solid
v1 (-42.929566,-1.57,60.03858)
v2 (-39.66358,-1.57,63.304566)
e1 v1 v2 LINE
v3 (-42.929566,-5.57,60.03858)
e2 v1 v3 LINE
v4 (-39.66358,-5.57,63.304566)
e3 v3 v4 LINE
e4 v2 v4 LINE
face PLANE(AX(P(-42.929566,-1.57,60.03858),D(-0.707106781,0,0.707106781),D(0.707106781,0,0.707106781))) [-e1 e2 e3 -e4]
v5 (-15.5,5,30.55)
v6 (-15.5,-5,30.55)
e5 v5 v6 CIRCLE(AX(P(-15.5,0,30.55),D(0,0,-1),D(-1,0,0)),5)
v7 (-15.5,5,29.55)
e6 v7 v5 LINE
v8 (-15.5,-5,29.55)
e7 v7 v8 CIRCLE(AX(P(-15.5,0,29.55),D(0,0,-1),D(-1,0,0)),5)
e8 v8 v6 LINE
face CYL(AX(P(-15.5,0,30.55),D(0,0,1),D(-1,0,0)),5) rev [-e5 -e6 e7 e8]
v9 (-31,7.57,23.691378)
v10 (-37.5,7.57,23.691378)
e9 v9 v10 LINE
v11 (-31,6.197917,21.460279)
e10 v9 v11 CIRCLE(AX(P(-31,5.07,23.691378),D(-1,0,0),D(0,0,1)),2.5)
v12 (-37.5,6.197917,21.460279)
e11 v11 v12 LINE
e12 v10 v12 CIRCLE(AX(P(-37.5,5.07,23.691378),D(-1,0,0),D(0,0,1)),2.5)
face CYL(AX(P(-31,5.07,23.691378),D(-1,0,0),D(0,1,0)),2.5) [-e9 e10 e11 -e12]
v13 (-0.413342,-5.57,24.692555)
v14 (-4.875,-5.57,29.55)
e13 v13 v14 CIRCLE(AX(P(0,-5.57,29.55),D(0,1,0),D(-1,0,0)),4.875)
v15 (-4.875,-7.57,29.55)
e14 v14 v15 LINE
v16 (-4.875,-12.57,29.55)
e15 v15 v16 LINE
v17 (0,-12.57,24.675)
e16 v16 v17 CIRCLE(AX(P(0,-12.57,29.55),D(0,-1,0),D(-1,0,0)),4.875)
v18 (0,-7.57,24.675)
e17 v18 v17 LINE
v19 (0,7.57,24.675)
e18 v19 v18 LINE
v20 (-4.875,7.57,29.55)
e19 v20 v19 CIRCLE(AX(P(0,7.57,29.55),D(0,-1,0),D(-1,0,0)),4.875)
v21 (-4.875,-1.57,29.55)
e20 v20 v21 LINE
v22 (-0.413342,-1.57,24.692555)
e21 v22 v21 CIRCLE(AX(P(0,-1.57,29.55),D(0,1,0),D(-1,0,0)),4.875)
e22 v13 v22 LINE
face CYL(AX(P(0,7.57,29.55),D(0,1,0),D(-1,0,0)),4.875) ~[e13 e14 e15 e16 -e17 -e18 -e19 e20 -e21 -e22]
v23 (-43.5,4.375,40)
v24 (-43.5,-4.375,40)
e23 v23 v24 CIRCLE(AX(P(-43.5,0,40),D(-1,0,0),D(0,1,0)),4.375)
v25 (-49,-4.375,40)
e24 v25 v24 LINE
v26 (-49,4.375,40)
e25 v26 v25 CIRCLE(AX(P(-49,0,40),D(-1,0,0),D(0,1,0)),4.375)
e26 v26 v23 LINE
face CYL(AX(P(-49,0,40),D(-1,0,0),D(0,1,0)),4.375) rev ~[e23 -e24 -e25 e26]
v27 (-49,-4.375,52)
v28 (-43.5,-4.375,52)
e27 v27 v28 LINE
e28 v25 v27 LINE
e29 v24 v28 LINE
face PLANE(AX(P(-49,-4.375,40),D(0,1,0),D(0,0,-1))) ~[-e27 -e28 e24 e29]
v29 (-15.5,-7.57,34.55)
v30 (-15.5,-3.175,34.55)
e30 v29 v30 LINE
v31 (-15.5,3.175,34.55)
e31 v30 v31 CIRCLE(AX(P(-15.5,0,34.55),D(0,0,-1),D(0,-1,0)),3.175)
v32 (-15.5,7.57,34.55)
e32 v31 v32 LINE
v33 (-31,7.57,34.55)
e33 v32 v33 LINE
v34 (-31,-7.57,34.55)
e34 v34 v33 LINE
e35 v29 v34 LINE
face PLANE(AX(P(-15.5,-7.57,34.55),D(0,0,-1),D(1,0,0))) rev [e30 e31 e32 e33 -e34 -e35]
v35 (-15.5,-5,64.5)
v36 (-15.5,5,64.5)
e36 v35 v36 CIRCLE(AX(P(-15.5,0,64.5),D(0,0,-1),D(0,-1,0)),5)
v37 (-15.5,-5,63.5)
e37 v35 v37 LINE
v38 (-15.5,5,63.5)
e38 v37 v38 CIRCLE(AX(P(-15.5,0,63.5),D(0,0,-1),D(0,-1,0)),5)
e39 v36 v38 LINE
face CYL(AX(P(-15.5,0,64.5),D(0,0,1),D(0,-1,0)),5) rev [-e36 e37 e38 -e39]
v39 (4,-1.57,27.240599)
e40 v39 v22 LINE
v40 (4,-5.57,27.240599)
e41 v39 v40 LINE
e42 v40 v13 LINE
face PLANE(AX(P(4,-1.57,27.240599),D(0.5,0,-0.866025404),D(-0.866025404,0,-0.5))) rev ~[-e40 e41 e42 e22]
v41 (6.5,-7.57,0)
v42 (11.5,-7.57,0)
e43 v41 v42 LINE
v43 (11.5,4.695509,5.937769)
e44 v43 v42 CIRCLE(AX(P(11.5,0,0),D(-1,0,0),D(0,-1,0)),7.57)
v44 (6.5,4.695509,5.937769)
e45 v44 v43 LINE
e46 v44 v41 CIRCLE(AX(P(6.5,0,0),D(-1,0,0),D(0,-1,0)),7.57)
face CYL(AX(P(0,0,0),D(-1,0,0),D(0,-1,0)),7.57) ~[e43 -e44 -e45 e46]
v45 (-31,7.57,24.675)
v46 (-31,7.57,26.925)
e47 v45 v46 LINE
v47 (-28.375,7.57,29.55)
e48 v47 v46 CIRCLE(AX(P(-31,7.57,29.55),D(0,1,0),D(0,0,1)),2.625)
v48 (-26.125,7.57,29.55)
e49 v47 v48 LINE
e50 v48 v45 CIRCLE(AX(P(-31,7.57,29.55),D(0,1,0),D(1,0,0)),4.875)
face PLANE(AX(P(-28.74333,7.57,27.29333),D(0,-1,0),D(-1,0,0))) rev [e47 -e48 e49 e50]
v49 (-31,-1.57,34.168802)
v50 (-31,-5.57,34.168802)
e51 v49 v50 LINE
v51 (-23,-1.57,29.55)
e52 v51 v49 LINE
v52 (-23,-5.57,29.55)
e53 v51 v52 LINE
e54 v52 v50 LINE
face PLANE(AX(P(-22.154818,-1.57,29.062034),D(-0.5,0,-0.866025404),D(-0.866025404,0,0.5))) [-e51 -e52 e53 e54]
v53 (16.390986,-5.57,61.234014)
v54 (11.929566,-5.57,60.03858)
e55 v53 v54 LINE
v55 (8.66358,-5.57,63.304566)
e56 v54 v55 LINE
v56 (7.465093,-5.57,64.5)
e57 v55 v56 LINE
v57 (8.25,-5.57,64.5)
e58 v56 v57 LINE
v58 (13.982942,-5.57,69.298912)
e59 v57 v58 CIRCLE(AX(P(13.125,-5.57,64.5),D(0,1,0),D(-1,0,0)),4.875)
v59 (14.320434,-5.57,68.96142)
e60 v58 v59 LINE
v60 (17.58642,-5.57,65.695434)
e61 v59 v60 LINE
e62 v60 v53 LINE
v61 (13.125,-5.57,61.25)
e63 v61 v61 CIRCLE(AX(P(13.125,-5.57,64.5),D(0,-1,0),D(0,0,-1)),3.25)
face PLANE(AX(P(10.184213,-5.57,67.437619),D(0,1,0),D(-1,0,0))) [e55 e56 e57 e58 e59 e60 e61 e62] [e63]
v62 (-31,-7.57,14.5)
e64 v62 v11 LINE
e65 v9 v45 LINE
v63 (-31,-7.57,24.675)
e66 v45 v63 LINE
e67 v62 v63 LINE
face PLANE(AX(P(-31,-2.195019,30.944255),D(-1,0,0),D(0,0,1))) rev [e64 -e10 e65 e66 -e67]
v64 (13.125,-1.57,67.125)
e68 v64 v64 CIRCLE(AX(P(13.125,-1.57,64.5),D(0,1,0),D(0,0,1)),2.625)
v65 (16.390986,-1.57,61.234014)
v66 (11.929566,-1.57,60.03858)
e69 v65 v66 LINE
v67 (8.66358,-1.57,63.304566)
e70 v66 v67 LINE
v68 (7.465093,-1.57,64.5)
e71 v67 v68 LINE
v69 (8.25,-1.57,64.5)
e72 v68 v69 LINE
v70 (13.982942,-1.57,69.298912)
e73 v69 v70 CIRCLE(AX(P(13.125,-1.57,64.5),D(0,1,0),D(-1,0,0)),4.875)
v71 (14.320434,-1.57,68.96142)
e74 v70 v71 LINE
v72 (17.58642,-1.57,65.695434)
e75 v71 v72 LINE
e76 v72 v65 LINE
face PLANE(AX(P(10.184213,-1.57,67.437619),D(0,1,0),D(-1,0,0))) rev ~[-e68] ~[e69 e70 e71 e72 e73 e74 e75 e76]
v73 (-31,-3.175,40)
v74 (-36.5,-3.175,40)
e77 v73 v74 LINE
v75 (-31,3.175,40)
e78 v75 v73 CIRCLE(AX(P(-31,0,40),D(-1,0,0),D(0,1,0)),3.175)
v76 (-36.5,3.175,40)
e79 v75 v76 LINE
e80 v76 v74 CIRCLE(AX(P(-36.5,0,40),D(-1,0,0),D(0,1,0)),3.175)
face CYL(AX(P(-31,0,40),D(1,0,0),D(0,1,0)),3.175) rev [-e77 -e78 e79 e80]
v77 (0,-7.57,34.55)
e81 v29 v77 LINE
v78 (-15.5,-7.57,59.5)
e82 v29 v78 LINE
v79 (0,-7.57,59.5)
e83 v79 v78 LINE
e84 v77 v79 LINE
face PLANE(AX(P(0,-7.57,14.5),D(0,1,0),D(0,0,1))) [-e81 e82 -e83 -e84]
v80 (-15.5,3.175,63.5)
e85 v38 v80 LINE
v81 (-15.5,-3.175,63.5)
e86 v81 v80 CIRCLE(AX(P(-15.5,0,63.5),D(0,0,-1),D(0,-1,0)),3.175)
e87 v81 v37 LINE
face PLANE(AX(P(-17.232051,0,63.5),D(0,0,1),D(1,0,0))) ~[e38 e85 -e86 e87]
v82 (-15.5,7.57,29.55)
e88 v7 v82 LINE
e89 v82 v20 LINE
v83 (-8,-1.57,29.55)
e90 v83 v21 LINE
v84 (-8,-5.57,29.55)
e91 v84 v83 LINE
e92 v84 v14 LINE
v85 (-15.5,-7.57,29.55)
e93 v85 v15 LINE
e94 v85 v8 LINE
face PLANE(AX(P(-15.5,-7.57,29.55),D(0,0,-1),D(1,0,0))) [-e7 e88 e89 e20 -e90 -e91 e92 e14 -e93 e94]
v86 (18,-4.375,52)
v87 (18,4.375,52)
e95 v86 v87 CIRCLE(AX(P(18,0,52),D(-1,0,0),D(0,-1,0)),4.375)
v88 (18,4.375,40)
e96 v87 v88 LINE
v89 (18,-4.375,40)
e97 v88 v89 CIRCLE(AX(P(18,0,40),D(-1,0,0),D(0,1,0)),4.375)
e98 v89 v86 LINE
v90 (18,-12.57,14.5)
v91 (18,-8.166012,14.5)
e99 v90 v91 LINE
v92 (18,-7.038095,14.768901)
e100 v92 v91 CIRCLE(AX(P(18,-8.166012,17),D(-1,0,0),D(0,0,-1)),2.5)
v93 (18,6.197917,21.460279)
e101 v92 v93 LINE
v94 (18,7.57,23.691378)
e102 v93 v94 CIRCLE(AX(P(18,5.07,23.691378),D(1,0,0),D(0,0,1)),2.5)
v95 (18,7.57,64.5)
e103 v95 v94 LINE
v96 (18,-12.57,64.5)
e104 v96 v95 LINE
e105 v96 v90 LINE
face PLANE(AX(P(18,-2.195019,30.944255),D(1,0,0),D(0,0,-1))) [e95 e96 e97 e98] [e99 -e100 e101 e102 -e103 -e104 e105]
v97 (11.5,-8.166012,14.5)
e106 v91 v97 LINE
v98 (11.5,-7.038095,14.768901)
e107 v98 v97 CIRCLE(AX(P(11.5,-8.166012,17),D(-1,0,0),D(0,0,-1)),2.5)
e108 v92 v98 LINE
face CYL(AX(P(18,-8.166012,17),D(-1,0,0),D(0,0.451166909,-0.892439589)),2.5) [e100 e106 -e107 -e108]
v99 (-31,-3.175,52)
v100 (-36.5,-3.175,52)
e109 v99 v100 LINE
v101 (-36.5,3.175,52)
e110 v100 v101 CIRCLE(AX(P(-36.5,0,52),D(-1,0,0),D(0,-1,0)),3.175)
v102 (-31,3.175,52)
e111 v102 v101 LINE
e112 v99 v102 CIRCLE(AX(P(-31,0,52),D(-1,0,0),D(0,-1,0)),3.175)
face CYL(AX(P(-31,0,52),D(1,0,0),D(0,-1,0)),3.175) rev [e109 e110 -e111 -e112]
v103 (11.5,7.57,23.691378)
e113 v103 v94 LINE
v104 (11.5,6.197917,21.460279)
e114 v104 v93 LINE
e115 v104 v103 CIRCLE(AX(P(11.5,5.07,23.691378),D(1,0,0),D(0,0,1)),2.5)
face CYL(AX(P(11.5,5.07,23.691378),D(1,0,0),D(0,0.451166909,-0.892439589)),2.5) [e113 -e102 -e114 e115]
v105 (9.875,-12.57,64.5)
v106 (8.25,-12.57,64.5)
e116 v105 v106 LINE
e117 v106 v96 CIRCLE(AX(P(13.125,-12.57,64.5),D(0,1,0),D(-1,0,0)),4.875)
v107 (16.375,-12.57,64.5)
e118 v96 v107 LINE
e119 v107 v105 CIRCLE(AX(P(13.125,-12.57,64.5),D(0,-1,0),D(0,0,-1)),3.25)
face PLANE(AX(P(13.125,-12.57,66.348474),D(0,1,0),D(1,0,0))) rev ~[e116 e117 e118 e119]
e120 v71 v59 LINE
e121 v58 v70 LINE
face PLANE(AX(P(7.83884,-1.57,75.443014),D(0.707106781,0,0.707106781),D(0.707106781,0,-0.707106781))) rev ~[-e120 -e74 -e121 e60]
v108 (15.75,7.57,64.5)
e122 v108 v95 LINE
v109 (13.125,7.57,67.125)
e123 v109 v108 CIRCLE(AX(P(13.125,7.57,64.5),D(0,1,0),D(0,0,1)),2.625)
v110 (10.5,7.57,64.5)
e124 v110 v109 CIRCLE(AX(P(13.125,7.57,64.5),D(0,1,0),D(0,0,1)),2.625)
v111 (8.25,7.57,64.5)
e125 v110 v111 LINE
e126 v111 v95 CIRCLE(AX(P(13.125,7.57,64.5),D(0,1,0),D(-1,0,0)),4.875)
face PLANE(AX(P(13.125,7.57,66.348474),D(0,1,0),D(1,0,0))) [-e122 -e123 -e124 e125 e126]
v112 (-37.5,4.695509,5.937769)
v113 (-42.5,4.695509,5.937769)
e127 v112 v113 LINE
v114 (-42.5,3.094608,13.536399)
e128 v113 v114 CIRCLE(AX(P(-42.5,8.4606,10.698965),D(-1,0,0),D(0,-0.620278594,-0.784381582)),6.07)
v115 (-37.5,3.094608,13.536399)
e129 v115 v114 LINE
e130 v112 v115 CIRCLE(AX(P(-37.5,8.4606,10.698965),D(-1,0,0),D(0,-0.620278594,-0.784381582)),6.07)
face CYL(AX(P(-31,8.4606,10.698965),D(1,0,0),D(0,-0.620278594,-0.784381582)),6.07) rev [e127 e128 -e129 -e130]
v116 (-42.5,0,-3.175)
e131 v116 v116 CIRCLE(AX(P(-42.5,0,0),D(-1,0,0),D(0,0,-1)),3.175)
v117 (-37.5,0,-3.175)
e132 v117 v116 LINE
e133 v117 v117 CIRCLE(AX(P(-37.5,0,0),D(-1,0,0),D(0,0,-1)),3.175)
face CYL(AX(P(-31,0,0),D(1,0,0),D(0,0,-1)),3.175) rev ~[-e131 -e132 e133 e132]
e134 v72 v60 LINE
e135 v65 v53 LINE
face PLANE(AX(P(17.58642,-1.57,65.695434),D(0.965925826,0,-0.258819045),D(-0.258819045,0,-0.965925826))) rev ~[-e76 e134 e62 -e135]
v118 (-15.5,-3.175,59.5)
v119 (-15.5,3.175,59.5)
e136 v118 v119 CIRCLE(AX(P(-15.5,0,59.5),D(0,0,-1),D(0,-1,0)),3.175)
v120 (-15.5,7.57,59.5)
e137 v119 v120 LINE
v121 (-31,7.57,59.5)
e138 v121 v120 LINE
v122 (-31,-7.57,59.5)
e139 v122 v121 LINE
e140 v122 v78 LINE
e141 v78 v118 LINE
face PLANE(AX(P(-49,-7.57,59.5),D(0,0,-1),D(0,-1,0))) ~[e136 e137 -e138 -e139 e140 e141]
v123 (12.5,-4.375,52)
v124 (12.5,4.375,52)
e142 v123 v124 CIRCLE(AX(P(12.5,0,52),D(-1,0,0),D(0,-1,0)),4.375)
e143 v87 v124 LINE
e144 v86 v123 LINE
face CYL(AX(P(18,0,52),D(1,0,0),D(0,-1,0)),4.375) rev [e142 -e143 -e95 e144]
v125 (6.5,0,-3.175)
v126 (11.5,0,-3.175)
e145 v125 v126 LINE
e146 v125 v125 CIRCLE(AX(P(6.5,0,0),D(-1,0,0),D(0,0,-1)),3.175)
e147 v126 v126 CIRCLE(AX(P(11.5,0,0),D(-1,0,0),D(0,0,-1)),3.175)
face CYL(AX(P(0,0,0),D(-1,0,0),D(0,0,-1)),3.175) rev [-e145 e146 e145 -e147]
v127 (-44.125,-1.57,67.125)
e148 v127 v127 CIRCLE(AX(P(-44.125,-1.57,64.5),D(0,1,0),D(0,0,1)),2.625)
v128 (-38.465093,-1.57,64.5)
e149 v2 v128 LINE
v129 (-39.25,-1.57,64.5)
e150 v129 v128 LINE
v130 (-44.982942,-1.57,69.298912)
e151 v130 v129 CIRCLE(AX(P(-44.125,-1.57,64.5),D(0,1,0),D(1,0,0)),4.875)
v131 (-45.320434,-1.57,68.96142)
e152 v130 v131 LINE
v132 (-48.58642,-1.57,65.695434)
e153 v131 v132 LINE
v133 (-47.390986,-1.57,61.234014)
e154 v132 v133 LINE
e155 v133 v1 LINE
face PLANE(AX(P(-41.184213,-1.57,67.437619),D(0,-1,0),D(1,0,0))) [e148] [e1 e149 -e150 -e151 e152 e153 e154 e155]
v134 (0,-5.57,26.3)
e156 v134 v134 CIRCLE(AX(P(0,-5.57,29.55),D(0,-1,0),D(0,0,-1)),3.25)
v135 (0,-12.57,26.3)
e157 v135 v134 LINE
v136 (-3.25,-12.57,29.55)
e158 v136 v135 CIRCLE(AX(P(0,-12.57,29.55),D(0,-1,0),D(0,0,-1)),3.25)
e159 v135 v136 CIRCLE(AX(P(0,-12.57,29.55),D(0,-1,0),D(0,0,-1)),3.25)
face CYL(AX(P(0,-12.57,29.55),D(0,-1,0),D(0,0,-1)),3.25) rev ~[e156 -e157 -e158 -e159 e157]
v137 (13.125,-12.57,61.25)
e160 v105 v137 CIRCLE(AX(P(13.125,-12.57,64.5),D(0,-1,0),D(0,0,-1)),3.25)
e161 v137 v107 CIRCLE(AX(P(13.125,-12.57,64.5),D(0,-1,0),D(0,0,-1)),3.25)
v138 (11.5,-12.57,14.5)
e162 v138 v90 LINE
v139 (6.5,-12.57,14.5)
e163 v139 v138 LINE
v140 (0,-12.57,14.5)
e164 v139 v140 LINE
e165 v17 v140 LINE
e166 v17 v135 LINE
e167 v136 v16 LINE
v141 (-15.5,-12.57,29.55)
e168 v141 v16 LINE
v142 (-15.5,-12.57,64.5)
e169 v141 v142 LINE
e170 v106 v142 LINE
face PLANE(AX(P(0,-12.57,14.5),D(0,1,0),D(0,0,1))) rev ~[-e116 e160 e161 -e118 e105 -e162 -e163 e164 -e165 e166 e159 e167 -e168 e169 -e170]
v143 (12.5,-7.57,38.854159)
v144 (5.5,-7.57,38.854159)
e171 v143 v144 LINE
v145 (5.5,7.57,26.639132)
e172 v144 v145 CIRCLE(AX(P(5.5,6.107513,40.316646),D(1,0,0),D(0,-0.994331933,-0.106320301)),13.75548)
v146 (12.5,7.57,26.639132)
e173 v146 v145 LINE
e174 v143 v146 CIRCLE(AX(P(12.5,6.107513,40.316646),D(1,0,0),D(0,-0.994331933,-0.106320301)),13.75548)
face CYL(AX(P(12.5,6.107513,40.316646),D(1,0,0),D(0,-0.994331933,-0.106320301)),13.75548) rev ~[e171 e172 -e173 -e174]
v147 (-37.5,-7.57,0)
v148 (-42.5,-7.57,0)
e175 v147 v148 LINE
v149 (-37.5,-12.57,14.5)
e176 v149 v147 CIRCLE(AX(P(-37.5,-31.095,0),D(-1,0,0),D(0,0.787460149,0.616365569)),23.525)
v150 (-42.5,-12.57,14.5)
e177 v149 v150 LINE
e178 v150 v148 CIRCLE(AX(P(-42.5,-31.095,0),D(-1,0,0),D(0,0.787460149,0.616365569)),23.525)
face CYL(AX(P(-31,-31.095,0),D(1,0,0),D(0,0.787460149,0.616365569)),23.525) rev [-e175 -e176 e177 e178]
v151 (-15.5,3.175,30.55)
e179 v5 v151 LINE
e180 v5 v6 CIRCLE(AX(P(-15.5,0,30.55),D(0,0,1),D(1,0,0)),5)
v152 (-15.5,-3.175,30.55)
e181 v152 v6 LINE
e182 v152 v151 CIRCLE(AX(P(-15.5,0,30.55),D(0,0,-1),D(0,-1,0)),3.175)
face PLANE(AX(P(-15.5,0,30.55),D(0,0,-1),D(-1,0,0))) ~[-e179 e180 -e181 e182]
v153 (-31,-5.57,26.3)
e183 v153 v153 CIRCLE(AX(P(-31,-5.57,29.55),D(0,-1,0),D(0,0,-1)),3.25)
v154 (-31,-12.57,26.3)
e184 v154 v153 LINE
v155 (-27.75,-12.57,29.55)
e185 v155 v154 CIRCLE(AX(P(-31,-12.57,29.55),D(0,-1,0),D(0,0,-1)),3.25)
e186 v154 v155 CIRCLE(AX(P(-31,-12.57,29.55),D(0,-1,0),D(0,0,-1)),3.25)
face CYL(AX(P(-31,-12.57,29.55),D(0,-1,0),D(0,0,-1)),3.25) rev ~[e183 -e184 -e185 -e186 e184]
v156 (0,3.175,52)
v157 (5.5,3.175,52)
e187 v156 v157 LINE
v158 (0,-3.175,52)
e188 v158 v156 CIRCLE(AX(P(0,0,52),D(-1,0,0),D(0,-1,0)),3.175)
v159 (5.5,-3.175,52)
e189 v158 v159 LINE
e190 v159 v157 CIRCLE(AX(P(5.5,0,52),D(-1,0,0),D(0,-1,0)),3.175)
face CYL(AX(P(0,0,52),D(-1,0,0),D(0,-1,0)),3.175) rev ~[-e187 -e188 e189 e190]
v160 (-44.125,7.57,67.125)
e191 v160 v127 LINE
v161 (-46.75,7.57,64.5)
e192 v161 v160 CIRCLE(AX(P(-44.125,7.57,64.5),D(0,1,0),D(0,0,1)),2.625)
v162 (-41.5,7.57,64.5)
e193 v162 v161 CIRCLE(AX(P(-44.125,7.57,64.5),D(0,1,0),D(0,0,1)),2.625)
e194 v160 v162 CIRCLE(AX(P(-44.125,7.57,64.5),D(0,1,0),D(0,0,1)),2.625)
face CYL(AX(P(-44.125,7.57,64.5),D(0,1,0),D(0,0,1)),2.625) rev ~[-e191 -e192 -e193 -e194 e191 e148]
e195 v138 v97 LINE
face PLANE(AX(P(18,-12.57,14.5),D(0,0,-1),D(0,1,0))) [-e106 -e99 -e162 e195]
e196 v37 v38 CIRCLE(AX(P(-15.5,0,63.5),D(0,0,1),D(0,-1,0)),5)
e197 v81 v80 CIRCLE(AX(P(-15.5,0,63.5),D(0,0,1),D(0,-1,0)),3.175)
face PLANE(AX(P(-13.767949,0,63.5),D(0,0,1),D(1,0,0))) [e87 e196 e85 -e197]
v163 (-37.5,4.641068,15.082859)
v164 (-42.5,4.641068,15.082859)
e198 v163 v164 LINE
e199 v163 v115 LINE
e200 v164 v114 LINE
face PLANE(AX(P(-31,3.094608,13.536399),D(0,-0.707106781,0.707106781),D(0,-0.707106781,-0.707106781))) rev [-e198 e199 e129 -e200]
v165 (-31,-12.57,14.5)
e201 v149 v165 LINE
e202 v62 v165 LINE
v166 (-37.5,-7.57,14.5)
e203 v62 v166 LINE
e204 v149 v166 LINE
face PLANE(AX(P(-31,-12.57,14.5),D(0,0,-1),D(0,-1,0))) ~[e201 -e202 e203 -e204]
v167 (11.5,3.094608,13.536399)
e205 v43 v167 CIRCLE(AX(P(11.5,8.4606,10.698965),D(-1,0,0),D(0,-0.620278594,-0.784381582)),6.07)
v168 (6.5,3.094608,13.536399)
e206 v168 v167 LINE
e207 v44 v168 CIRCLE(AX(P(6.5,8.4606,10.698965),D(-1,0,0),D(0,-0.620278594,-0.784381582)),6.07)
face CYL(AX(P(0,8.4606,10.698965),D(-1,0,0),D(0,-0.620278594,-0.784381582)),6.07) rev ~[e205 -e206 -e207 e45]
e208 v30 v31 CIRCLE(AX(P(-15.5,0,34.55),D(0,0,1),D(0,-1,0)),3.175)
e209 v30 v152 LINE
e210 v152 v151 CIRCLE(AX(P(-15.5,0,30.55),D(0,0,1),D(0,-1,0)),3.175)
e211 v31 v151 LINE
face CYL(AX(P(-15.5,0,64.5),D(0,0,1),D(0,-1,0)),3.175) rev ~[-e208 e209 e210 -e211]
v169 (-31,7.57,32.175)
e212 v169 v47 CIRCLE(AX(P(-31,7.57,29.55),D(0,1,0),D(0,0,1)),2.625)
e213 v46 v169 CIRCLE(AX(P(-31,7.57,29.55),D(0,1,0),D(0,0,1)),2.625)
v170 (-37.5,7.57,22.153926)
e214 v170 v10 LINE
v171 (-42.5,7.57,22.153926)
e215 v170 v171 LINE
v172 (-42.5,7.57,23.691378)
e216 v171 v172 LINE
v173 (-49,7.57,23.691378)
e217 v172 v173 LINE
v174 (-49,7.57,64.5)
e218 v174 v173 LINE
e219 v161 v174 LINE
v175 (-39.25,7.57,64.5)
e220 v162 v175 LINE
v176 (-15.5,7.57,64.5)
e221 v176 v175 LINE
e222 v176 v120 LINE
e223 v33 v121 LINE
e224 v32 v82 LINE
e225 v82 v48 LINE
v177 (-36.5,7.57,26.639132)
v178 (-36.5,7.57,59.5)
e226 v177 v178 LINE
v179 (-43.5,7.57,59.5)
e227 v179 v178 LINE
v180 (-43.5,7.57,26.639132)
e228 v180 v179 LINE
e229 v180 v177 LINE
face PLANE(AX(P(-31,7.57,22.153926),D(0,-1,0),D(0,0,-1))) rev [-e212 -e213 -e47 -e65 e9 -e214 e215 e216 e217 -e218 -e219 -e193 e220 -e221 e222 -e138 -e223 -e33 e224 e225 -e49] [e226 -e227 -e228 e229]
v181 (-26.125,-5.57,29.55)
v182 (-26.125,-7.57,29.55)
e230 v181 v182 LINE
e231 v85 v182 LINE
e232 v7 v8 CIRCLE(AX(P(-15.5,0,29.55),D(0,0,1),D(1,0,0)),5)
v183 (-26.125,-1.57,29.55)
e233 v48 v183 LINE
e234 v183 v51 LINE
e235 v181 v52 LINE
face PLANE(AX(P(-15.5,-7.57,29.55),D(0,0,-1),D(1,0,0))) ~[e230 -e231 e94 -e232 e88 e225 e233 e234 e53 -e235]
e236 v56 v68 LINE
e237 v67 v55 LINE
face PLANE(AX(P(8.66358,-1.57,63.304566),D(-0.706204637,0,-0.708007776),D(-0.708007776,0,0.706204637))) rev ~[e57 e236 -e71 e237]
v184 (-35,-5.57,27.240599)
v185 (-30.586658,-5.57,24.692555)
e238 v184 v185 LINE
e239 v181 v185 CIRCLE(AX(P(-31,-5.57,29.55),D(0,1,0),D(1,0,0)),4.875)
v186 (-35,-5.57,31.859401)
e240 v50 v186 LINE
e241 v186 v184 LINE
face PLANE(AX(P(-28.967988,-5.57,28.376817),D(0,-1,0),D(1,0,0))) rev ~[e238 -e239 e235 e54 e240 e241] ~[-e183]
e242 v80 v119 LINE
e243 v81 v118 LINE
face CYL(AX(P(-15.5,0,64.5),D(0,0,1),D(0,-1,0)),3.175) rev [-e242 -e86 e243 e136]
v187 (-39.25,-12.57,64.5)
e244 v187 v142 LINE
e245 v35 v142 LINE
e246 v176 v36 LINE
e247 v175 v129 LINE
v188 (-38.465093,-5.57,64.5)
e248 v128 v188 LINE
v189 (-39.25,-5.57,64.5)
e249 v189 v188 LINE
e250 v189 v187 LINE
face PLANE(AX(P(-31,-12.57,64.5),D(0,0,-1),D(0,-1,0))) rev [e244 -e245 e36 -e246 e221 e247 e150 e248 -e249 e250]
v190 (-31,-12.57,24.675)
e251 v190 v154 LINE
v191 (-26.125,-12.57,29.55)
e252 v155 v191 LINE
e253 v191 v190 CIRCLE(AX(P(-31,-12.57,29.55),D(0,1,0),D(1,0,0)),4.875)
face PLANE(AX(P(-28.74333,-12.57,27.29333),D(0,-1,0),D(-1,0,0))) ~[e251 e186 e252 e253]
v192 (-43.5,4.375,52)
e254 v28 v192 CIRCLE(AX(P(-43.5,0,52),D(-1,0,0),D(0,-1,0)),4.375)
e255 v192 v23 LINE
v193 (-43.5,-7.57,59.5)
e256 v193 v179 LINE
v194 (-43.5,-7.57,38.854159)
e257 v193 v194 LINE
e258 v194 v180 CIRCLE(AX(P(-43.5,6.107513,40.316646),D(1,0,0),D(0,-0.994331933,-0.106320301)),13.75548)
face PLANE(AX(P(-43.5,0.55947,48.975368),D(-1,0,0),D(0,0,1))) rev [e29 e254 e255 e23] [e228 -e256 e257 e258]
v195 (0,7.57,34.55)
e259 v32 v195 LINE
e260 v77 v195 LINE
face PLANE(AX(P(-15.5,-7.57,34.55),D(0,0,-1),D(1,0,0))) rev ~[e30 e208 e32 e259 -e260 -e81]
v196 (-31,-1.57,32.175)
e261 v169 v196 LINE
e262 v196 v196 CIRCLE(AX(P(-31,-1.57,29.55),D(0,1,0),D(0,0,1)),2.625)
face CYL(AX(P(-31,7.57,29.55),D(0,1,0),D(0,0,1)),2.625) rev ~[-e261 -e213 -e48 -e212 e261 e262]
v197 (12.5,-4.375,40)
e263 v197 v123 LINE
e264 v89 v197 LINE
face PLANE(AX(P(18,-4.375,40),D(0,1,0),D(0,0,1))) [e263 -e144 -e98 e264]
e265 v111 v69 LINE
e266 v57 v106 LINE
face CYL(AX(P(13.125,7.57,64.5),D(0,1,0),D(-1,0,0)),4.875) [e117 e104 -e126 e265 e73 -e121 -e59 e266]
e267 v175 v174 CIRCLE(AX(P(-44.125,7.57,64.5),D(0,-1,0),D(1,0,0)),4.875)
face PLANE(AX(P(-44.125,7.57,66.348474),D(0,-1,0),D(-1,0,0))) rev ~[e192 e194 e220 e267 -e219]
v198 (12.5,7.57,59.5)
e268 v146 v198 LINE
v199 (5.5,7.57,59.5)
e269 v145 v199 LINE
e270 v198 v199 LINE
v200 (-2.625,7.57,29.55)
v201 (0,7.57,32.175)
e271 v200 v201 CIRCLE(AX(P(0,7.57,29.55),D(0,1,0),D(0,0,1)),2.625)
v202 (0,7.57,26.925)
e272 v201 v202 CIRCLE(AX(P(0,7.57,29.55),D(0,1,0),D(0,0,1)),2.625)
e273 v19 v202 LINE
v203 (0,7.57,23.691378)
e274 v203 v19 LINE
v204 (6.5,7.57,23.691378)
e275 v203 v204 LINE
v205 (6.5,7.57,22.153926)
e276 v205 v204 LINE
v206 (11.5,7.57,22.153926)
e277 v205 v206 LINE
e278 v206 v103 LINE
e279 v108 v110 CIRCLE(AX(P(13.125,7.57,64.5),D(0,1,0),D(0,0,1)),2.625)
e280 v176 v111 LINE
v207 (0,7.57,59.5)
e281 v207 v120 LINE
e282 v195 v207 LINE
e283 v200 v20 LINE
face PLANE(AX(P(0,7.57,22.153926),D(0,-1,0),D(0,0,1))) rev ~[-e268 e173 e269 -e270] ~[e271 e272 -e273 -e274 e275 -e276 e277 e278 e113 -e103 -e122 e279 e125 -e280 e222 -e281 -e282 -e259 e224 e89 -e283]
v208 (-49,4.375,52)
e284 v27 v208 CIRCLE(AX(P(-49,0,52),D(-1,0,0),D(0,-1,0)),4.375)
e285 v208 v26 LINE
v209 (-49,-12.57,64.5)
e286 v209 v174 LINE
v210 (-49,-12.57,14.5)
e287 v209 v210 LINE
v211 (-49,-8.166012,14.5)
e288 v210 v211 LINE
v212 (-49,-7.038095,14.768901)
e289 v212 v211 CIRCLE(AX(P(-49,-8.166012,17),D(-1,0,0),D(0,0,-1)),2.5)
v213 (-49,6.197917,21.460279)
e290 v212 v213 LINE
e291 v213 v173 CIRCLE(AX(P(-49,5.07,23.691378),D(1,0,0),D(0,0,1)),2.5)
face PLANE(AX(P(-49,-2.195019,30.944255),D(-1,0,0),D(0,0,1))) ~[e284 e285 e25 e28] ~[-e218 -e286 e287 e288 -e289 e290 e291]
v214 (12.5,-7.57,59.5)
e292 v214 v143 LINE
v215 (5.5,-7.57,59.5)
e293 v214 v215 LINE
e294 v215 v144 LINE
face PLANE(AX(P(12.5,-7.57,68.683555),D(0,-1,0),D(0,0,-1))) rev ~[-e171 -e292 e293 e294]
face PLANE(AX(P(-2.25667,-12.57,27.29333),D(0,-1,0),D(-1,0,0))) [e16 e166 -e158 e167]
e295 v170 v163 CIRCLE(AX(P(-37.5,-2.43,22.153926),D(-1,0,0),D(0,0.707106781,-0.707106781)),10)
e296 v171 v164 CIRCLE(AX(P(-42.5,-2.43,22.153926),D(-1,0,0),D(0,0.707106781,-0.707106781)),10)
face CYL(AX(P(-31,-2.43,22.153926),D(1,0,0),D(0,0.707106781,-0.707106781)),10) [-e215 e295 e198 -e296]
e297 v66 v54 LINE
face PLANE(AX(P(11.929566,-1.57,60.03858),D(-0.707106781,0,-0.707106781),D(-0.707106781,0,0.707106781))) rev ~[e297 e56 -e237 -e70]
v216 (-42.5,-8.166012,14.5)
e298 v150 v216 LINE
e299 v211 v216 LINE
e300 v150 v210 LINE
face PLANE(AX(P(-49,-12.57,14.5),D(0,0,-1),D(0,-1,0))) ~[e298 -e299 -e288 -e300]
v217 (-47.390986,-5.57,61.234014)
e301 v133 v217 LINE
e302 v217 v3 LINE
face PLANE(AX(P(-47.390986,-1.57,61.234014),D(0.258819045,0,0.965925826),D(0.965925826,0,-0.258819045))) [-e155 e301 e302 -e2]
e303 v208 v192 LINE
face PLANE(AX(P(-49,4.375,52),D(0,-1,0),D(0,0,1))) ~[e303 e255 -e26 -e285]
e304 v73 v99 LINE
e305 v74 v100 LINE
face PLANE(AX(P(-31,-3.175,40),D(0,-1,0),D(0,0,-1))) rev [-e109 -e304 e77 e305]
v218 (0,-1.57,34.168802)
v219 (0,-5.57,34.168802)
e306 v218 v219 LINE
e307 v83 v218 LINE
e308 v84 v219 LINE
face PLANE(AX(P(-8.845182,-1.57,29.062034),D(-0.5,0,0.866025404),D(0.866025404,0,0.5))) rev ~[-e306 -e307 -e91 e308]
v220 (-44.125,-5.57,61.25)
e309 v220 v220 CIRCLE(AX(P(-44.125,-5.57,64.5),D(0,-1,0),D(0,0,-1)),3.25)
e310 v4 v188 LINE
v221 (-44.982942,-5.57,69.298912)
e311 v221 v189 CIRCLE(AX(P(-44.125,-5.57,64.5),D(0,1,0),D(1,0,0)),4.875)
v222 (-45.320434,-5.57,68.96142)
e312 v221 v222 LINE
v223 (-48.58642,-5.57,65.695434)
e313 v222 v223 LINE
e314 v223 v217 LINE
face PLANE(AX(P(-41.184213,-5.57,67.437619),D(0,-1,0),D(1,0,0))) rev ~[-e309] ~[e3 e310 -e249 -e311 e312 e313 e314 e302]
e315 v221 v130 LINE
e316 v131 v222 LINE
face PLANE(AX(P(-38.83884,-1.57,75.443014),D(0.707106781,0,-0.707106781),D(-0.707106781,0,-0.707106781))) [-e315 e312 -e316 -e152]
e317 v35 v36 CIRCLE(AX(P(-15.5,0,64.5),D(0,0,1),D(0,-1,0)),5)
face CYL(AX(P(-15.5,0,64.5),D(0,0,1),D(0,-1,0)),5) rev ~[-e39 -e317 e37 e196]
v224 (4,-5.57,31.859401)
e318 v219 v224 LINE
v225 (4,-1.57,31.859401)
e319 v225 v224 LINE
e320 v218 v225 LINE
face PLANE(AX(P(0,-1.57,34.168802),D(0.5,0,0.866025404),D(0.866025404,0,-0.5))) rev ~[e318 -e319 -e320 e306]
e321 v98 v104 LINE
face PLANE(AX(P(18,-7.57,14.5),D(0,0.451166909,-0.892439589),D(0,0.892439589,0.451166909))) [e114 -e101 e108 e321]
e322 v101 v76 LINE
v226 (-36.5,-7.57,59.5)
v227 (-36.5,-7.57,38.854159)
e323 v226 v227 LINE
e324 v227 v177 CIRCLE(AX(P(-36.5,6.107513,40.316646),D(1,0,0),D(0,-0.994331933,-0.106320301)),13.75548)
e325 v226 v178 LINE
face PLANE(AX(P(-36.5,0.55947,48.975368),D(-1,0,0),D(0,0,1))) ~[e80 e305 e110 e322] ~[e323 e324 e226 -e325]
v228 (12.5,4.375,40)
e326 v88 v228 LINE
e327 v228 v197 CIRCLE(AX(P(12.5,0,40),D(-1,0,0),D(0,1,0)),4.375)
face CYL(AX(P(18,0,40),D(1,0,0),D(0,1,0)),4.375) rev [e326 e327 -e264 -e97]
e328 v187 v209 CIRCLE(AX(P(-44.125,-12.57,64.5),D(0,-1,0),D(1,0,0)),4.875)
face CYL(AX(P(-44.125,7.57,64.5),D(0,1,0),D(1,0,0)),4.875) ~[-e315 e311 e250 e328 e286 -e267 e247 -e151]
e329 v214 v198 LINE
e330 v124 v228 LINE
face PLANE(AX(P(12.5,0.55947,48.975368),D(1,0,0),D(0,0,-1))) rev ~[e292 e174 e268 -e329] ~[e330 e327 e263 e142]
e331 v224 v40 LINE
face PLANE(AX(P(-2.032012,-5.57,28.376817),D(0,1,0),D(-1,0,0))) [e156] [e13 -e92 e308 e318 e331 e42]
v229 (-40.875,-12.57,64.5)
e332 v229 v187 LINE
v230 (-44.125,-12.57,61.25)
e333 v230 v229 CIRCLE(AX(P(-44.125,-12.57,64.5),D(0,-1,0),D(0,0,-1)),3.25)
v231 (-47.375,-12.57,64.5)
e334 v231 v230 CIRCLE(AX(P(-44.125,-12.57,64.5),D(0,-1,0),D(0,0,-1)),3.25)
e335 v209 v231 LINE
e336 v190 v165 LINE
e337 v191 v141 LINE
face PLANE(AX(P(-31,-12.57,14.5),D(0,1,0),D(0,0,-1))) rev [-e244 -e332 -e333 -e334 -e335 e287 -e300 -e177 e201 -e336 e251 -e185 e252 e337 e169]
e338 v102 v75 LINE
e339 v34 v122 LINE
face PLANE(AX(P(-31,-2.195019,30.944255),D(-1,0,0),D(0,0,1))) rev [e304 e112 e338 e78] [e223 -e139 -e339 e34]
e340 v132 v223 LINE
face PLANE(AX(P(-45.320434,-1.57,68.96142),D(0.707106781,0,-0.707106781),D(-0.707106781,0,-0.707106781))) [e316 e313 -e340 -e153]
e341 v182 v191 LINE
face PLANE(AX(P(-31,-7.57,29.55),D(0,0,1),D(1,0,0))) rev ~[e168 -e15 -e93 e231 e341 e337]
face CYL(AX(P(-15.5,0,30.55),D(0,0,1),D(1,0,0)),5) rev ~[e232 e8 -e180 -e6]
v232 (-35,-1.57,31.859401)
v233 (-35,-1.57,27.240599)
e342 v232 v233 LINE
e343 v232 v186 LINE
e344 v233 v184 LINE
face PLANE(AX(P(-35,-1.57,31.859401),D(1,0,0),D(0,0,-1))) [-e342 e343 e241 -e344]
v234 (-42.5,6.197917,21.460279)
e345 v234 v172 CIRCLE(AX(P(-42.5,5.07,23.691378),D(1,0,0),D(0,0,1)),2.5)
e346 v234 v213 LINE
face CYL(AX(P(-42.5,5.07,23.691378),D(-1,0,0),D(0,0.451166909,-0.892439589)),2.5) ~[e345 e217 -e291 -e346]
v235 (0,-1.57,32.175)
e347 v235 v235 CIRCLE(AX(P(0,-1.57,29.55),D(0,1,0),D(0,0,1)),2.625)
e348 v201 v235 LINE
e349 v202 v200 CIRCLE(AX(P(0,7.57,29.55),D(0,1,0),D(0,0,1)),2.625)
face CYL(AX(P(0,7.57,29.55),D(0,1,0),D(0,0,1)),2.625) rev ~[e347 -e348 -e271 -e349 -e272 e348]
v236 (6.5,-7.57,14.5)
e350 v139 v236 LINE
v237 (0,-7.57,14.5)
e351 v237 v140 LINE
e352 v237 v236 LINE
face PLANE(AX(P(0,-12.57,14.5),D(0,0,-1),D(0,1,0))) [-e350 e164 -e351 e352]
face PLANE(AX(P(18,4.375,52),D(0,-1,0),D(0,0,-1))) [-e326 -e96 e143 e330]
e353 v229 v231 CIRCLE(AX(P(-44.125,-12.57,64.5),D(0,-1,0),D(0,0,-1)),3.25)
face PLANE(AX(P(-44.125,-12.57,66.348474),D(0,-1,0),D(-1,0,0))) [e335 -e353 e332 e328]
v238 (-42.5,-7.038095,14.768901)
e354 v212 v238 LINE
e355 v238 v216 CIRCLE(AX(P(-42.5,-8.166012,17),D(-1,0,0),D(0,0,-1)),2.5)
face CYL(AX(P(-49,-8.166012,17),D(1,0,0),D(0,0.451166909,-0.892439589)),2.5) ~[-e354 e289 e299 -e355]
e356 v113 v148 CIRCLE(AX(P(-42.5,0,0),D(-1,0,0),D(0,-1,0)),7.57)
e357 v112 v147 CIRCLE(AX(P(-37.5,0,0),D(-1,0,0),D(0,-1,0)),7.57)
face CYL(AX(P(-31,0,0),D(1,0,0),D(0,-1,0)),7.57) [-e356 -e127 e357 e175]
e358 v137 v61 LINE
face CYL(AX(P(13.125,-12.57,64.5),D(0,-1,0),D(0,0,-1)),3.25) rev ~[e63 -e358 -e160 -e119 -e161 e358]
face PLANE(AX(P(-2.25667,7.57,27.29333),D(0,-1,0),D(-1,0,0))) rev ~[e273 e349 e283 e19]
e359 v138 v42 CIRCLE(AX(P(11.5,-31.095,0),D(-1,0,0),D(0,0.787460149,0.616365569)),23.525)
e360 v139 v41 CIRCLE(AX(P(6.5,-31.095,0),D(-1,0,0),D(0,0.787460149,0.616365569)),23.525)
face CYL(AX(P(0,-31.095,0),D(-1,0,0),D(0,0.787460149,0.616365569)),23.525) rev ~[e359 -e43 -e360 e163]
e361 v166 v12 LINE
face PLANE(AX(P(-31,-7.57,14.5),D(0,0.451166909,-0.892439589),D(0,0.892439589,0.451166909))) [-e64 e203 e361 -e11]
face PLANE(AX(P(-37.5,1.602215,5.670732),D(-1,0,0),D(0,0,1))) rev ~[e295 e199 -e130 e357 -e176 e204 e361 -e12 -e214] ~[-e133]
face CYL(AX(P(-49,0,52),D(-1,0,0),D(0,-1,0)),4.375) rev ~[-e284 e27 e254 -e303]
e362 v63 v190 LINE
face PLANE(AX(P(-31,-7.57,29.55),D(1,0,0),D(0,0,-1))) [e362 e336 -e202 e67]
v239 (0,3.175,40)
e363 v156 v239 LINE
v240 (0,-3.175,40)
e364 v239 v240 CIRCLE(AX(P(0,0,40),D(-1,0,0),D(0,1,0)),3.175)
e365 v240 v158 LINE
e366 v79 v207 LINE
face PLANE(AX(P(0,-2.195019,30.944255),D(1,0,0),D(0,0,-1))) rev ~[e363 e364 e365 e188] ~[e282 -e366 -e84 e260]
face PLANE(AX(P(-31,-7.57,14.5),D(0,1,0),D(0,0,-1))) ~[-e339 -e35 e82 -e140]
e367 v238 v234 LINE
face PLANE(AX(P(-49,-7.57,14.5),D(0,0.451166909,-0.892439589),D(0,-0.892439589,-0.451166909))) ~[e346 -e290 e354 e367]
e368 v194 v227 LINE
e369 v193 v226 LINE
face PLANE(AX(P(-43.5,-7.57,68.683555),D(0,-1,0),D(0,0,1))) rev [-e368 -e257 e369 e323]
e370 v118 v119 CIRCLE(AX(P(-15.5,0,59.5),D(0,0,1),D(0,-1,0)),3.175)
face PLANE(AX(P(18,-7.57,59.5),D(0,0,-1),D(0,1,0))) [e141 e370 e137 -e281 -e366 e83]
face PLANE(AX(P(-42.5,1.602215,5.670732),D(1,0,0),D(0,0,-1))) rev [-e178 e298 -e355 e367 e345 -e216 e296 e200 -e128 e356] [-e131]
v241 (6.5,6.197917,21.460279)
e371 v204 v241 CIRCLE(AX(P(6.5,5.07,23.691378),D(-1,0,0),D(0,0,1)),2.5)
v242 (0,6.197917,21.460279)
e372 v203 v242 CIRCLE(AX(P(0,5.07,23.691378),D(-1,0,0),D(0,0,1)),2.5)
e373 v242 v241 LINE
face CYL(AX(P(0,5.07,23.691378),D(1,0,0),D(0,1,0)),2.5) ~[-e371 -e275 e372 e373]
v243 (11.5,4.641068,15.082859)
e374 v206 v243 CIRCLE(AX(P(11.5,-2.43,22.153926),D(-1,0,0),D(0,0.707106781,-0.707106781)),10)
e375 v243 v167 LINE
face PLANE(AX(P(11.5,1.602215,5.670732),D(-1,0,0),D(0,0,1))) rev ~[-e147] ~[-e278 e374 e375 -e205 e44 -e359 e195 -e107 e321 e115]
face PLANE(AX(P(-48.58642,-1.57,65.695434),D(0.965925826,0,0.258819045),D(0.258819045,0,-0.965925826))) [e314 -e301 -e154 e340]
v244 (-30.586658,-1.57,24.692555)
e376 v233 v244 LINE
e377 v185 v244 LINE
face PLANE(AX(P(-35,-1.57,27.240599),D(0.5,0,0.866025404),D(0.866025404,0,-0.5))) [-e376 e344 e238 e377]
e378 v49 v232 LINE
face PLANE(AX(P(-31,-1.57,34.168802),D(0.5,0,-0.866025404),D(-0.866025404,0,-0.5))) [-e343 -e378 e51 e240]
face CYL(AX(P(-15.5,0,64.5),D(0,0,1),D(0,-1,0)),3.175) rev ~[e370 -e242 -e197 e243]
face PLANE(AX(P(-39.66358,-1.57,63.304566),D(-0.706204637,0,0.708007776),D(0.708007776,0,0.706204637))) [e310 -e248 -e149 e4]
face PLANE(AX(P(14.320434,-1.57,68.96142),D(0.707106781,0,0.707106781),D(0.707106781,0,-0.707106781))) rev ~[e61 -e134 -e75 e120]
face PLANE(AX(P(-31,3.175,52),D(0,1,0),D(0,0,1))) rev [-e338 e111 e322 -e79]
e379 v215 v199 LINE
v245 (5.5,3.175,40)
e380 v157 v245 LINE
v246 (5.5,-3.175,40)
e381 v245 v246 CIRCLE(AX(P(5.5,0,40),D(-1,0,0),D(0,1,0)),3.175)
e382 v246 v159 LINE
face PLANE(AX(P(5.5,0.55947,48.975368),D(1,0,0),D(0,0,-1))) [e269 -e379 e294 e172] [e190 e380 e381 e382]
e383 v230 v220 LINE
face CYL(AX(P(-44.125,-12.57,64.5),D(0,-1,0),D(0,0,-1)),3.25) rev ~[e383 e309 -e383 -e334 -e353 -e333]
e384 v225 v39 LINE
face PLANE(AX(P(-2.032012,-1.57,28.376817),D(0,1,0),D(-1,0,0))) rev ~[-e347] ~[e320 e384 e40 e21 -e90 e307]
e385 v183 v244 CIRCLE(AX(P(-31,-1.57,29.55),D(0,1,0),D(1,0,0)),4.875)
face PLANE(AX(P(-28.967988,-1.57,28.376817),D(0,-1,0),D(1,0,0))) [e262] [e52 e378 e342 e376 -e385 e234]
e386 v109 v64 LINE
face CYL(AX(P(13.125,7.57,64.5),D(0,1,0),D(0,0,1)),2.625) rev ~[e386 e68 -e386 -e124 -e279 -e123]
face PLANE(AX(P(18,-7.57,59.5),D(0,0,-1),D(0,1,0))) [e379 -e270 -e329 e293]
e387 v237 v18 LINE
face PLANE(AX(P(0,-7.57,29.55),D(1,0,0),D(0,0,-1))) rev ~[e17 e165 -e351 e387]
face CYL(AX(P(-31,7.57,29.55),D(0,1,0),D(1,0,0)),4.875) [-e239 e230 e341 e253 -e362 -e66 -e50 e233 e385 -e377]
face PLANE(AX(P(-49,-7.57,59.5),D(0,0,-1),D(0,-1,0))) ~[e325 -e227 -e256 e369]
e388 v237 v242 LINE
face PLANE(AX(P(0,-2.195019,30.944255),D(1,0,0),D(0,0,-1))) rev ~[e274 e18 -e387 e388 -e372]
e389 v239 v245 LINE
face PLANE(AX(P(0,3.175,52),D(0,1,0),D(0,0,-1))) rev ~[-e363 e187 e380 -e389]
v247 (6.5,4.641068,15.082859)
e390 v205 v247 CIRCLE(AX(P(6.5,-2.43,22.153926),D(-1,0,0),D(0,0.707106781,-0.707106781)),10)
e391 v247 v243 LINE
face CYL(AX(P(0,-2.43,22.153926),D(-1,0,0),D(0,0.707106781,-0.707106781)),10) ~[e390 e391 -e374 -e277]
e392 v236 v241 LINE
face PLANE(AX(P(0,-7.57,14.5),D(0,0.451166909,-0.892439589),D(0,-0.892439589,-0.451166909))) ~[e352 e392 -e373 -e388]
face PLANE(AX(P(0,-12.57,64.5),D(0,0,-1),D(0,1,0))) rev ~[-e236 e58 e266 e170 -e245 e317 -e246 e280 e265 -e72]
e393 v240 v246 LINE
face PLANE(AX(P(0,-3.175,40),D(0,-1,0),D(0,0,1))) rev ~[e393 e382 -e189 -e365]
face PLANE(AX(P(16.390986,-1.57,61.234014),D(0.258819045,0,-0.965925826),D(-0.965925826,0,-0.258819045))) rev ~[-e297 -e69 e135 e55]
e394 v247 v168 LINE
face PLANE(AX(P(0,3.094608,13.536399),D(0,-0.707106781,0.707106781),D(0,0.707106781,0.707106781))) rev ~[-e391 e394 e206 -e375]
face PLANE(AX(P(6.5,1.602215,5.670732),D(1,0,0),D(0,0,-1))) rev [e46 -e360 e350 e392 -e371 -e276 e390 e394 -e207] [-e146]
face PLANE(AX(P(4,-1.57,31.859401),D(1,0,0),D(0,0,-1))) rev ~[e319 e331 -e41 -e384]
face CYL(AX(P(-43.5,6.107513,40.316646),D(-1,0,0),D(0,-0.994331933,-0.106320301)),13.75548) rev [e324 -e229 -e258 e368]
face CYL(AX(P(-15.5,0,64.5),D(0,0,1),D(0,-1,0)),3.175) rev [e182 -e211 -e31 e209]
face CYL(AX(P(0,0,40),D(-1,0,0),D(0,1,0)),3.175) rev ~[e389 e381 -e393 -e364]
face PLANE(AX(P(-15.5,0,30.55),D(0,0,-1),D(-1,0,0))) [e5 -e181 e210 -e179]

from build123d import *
from build123d.topology import SkipClean

# Parameters (mm, degrees)
SKETCH1_R                = 3.175
BOSS_EXTRUDE1_DEPTH      = 18
CUT_EXTRUDE4_DEPTH       = 3.5
CUT_EXTRUDE4_DEPTH_BACK  = 3.5
CUT_EXTRUDE5_DEPTH       = 6.5
SKETCH9_W                = 50
SKETCH9_H                = 5
BOSS_EXTRUDE2_DEPTH      = 15.5
FILLET8_R                = 2.5
BOSS_EXTRUDE3_REACH      = 75.76
SKETCH13_W               = 5
SKETCH13_H               = 15.14
SKETCH16_W               = 15.5
SKETCH16_H               = 5
BOSS_EXTRUDE4_DEPTH      = 15.14
CUT_EXTRUDE8_REACH       = 77.34
CUT_EXTRUDE9_DEPTH       = 5.5
CUT_EXTRUDE10_DEPTH      = 1
CUT_EXTRUDE11_START      = -1
SKETCH20_R               = 5
CUT_EXTRUDE11_DEPTH      = 1
SKETCH21_W               = 31
SKETCH21_H               = 15.05
CUT_EXTRUDE12_DEPTH      = 5
BOSS_EXTRUDE11_DEPTH     = 20.14
SKETCH31_R               = 2.125
CUT_EXTRUDE16_DEPTH      = 20.14
SKETCH38_R               = 3.25
CUT_EXTRUDE19_DEPTH      = 8
CUT_EXTRUDE21_DEPTH      = 3
CUT_EXTRUDE21_DEPTH_BACK = 1
SKETCH39_R               = 2.625
M5_CUT_DEPTH             = 9.14


with BuildPart() as part:
    # Sketch1 → Boss-Extrude1 (new body)
    with BuildSketch(Plane(origin=(0, 0, 0), x_dir=(0, 0, -1), z_dir=(1, 0, 0))):
        with BuildLine():
            Line((-64.5, -12.57), (-14.5, -12.57))
            ThreePointArc((-14.5, -12.57), (-7.668930825, -8.855100607), (0, -7.57))
            ThreePointArc((0, -7.57), (6.813585795, 3.298476711), (-5.937768577, 4.695508953))
            ThreePointArc((-5.937768577, 4.695508953), (-9.447591416, 2.520990205), (-13.536399337, 3.094608482))
            Line((-13.536399337, 3.094608482), (-15.082858667, 4.641067812))
            ThreePointArc((-15.082858667, 4.641067812), (-18.327092155, 6.808795325), (-22.153926479, 7.57))
            Line((-22.153926479, 7.57), (-24.481144331, 7.57))
            Line((-24.481144331, 7.57), (-64.5, 7.57))
            Line((-64.5, 7.57), (-64.5, -12.57))
        make_face()
        Circle(SKETCH1_R, mode=Mode.SUBTRACT)
        with BuildLine():
            Line((-52, 3.175), (-40, 3.175))
            ThreePointArc((-40, 3.175), (-36.825, 0), (-40, -3.175))
            Line((-40, -3.175), (-52, -3.175))
            ThreePointArc((-52, -3.175), (-55.175, 0), (-52, 3.175))
        make_face(mode=Mode.SUBTRACT)
    extrude(amount=BOSS_EXTRUDE1_DEPTH)

    # Sketch7 → Cut-Extrude4 (cut, two sides: drawn at the far end of the back side and taken through both)
    with BuildSketch(Plane.ZY.offset(-9).offset(-CUT_EXTRUDE4_DEPTH_BACK)):
        with BuildLine():
            Line((68.683555498, -7.57), (38.854158917, -7.57))
            ThreePointArc((38.854158917, -7.57), (29.611049041, -2.529814803), (26.6391325, 7.57))
            Line((26.6391325, 7.57), (68.683555498, 7.57))
            Line((68.683555498, 7.57), (68.683555498, -7.57))
        make_face()
    extrude(amount=CUT_EXTRUDE4_DEPTH + CUT_EXTRUDE4_DEPTH_BACK, mode=Mode.SUBTRACT)

    # Sketch8 → Cut-Extrude5 (cut)
    with BuildSketch(Plane(origin=(18, 0, 0), x_dir=(0, 0, -1), z_dir=(1, 0, 0))):
        Polygon((-14.5, -12.57), (-14.5, -7.57), (-22.153926479, 7.57), (4.247659324, 15.20685859), (9.411129334, 3.26000641), (7.386239134, -6.35822204), align=None)
    cut_extrude5 = extrude(amount=-CUT_EXTRUDE5_DEPTH, mode=Mode.SUBTRACT)

    # Sketch9 → Boss-Extrude2 (add)
    with BuildSketch(Plane.ZY):
        with Locations((39.5, -10.07)):
            Rectangle(SKETCH9_W, SKETCH9_H)
    extrude(amount=BOSS_EXTRUDE2_DEPTH)

    # Mirror2: Cut-Extrude5 across plane
    add(cut_extrude5.mirror(Plane.ZY.offset(-9)), mode=Mode.SUBTRACT)

    # Fillet8
    fillet8_edges = [part.edges().sort_by_distance(p)[0] for p in [
        (3.25, 7.57, 22.153926479),
        (14.75, 7.57, 22.153926479),
        (14.75, -7.57, 14.5),
    ]]
    fillet(fillet8_edges, radius=FILLET8_R)

    # Boss-Extrude3: up to this face of the body (flat: up to its plane)
    boss_extrude3_end = Plane(part.part.faces().sort_by_distance((-15.5, -10.07, 39.5))[0])
    # Sketch13 → Boss-Extrude3 (add, up to the picked face)
    with BuildSketch(Plane(origin=(18, 0, 0), x_dir=(0, 0, -1), z_dir=(1, 0, 0)), mode=Mode.PRIVATE) as boss_extrude3_sk1:
        with Locations((-62, 0)):
            Rectangle(SKETCH13_W, SKETCH13_H)
    boss_extrude3_tool1 = split(extrude(boss_extrude3_sk1.sketch, amount=-BOSS_EXTRUDE3_REACH, mode=Mode.PRIVATE), bisect_by=boss_extrude3_end, keep=Keep.BOTH, mode=Mode.PRIVATE)
    add(boss_extrude3_tool1.solids().sort_by(Axis((18, 0, 62), (-1, 0, 0)))[0])

    # Sketch16 → Boss-Extrude4 (add)
    with BuildSketch(Plane(origin=(0, -7.57, 0), x_dir=(1, 0, 0), z_dir=(0, 1, 0))):
        with Locations((-7.75, -32.05)):
            Rectangle(SKETCH16_W, SKETCH16_H)
    extrude(amount=BOSS_EXTRUDE4_DEPTH)

    # Cut-Extrude8: up to this face of the body (flat: up to its plane)
    cut_extrude8_end = Plane(part.part.faces().sort_by_distance((-7.75, 0, 29.55))[0])
    # Sketch14 → Cut-Extrude8 (cut, up to the picked face)
    with BuildSketch(Plane.XY.offset(64.5), mode=Mode.PRIVATE) as cut_extrude8_sk1:
        with BuildLine():
            Line((-15.5, 3.175), (-15.5, -3.175))
            ThreePointArc((-15.5, -3.175), (-12.325, 0), (-15.5, 3.175))
        make_face()
    cut_extrude8_tool1 = split(extrude(cut_extrude8_sk1.sketch, amount=-CUT_EXTRUDE8_REACH, mode=Mode.PRIVATE), bisect_by=cut_extrude8_end, keep=Keep.BOTH, mode=Mode.PRIVATE)
    add(cut_extrude8_tool1.solids().sort_by(Axis((-14.152488, 0, 64.5), (0, 0, -1)))[0], mode=Mode.SUBTRACT)

    # Sketch17 → Cut-Extrude9 (cut)
    with BuildSketch(Plane(origin=(18, 0, 0), x_dir=(0, 0, -1), z_dir=(1, 0, 0))):
        with BuildLine():
            Line((-40, -4.375), (-52, -4.375))
            ThreePointArc((-52, -4.375), (-56.375, 0), (-52, 4.375))
            Line((-52, 4.375), (-40, 4.375))
            ThreePointArc((-40, 4.375), (-35.625, 0), (-40, -4.375))
        make_face()
    extrude(amount=-CUT_EXTRUDE9_DEPTH, mode=Mode.SUBTRACT)

    # Sketch19 → Cut-Extrude10 (cut)
    with BuildSketch(Plane.XY.offset(64.5)):
        with BuildLine():
            Line((-15.5, 5), (-15.5, -5))
            ThreePointArc((-15.5, -5), (-10.5, 0), (-15.5, 5))
        make_face()
    extrude(amount=-CUT_EXTRUDE10_DEPTH, mode=Mode.SUBTRACT)

    # Sketch20 → Cut-Extrude11 (cut)
    with BuildSketch(Plane(origin=(0, 0, 29.55), x_dir=(-1, 0, 0), z_dir=(0, 0, -1)).offset(CUT_EXTRUDE11_START)):
        with Locations((15.5, 0)):
            Circle(SKETCH20_R)
    extrude(amount=CUT_EXTRUDE11_DEPTH, mode=Mode.SUBTRACT)

    # Mirror3: part across plane


with BuildPart() as part_1:
    with SkipClean():  # the faces are left unmerged after this step: merging them gives an invalid solid
        add(part.part)
        add(part.part.mirror(Plane(origin=(-15.5, 0, 0), x_dir=(0, 0, 1), z_dir=(1, 0, 0))))

    # Sketch21 → Cut-Extrude12 (cut)
    with SkipClean():  # the faces are left unmerged after this step: merging them gives an invalid solid
        with BuildSketch(Plane(origin=(0, -7.57, 0), x_dir=(1, 0, 0), z_dir=(0, 1, 0))):
            with Locations((-15.5, -22.025)):
                Rectangle(SKETCH21_W, SKETCH21_H)
        extrude(amount=-CUT_EXTRUDE12_DEPTH, mode=Mode.SUBTRACT)

    # Sketch30 → Boss-Extrude11 (add)
    with SkipClean():  # the faces are left unmerged after this step: merging them gives an invalid solid
        with BuildSketch(Plane(origin=(0, 7.57, 0), x_dir=(1, 0, 0), z_dir=(0, 1, 0))):
            with BuildLine():
                Line((0, -24.675), (0, -27.425))
                ThreePointArc((0, -27.425), (-1.50260191, -28.04739809), (-2.125, -29.55))
                Line((-2.125, -29.55), (-4.875, -29.55))
                ThreePointArc((-4.875, -29.55), (-3.447145558, -26.102854442), (0, -24.675))
            make_face()
            with BuildLine():
                Line((11, -64.5), (8.25, -64.5))
                ThreePointArc((8.25, -64.5), (13.125, -69.375), (18, -64.5))
                Line((18, -64.5), (15.25, -64.5))
                ThreePointArc((15.25, -64.5), (13.125, -66.625), (11, -64.5))
            make_face()
            with BuildLine():
                Line((-42, -64.5), (-39.25, -64.5))
                ThreePointArc((-39.25, -64.5), (-44.125, -69.375), (-49, -64.5))
                Line((-49, -64.5), (-46.25, -64.5))
                ThreePointArc((-46.25, -64.5), (-44.125, -66.625), (-42, -64.5))
            make_face()
        boss_extrude11 = extrude(amount=-BOSS_EXTRUDE11_DEPTH)

    # Sketch31 → Cut-Extrude16 (cut)
    with SkipClean():  # the faces are left unmerged after this step: merging them gives an invalid solid
        with BuildSketch(Plane(origin=(0, 7.57, 0), x_dir=(1, 0, 0), z_dir=(0, 1, 0))):
            with Locations(Location((0, -29.55, 0), (0, 0, 270))):
                Circle(SKETCH31_R)
            with Locations(Location((13.125, -64.5, 0), (0, 0, 270))):
                Circle(SKETCH31_R)
            with Locations(Location((-44.125, -64.5, 0), (0, 0, 270))):
                Circle(SKETCH31_R)
        cut_extrude16 = extrude(amount=-CUT_EXTRUDE16_DEPTH, mode=Mode.SUBTRACT)

    # Mirror4: Boss-Extrude11, Cut-Extrude16 across plane
    with SkipClean():  # the faces are left unmerged after this step: merging them gives an invalid solid
        add(boss_extrude11.mirror(Plane(origin=(-15.5, 0, 0), x_dir=(0, 0, 1), z_dir=(1, 0, 0))))
        add(cut_extrude16.mirror(Plane(origin=(-15.5, 0, 0), x_dir=(0, 0, 1), z_dir=(1, 0, 0))), mode=Mode.SUBTRACT)

    # Sketch38 → Cut-Extrude19 (cut)
    with SkipClean():  # the faces are left unmerged after this step: merging them gives an invalid solid
        with BuildSketch(Plane.XZ.offset(12.57)):
            with Locations(Location((-31, 29.55, 0), (0, 0, 270))):
                Circle(SKETCH38_R)
            with Locations(Location((0, 29.55, 0), (0, 0, 270))):
                Circle(SKETCH38_R)
            with Locations(Location((13.125, 64.5, 0), (0, 0, 270))):
                Circle(SKETCH38_R)
            with Locations(Location((-44.125, 64.5, 0), (0, 0, 270))):
                Circle(SKETCH38_R)
        extrude(amount=-CUT_EXTRUDE19_DEPTH, mode=Mode.SUBTRACT)

    # Sketch32 → Cut-Extrude21 (cut, two sides: drawn at the far end of the back side and taken through both)
    with SkipClean():  # the faces are left unmerged after this step: merging them gives an invalid solid
        with BuildSketch(Plane.XZ.offset(2.57).offset(-CUT_EXTRUDE21_DEPTH_BACK)):
            Polygon((-26.154818283, 22.133830878), (-22.154818283, 29.062034108), (-31, 34.168802154), (-35, 31.859401077), (-35, 27.240598923), align=None)
            Polygon((11.929566037, 60.038579713), (8.663579713, 63.304566037), (2.173721464, 69.777896049), (7.838839832, 75.443014417), (14.320433963, 68.961420287), (17.586420287, 65.695433963), (16.390986324, 61.234013676), align=None)
            Polygon((-45.320433963, 68.961420287), (-48.586420287, 65.695433963), (-47.390986324, 61.234013676), (-42.929566037, 60.038579713), (-39.663579713, 63.304566037), (-33.173721464, 69.777896049), (-38.838839832, 75.443014417), align=None)
            Polygon((4, 27.240598923), (-4.845181717, 22.133830878), (-8.845181717, 29.062034108), (0, 34.168802154), (4, 31.859401077), align=None)
        extrude(amount=CUT_EXTRUDE21_DEPTH + CUT_EXTRUDE21_DEPTH_BACK, mode=Mode.SUBTRACT)

    # Sketch39 → M5_Cut (cut)
    with SkipClean():  # the faces are left unmerged after this step: merging them gives an invalid solid
        with BuildSketch(Plane(origin=(0, 7.57, 0), x_dir=(1, 0, 0), z_dir=(0, 1, 0))):
            with Locations(Location((-31, -29.55, 0), (0, 0, 270))):
                Circle(SKETCH39_R)
            with Locations(Location((0, -29.55, 0), (0, 0, 270))):
                Circle(SKETCH39_R)
            with Locations(Location((13.125, -64.5, 0), (0, 0, 270))):
                Circle(SKETCH39_R)
            with Locations(Location((-44.125, -64.5, 0), (0, 0, 270))):
                Circle(SKETCH39_R)
        extrude(amount=-M5_CUT_DEPTH, mode=Mode.SUBTRACT)


solid = part_1.part
